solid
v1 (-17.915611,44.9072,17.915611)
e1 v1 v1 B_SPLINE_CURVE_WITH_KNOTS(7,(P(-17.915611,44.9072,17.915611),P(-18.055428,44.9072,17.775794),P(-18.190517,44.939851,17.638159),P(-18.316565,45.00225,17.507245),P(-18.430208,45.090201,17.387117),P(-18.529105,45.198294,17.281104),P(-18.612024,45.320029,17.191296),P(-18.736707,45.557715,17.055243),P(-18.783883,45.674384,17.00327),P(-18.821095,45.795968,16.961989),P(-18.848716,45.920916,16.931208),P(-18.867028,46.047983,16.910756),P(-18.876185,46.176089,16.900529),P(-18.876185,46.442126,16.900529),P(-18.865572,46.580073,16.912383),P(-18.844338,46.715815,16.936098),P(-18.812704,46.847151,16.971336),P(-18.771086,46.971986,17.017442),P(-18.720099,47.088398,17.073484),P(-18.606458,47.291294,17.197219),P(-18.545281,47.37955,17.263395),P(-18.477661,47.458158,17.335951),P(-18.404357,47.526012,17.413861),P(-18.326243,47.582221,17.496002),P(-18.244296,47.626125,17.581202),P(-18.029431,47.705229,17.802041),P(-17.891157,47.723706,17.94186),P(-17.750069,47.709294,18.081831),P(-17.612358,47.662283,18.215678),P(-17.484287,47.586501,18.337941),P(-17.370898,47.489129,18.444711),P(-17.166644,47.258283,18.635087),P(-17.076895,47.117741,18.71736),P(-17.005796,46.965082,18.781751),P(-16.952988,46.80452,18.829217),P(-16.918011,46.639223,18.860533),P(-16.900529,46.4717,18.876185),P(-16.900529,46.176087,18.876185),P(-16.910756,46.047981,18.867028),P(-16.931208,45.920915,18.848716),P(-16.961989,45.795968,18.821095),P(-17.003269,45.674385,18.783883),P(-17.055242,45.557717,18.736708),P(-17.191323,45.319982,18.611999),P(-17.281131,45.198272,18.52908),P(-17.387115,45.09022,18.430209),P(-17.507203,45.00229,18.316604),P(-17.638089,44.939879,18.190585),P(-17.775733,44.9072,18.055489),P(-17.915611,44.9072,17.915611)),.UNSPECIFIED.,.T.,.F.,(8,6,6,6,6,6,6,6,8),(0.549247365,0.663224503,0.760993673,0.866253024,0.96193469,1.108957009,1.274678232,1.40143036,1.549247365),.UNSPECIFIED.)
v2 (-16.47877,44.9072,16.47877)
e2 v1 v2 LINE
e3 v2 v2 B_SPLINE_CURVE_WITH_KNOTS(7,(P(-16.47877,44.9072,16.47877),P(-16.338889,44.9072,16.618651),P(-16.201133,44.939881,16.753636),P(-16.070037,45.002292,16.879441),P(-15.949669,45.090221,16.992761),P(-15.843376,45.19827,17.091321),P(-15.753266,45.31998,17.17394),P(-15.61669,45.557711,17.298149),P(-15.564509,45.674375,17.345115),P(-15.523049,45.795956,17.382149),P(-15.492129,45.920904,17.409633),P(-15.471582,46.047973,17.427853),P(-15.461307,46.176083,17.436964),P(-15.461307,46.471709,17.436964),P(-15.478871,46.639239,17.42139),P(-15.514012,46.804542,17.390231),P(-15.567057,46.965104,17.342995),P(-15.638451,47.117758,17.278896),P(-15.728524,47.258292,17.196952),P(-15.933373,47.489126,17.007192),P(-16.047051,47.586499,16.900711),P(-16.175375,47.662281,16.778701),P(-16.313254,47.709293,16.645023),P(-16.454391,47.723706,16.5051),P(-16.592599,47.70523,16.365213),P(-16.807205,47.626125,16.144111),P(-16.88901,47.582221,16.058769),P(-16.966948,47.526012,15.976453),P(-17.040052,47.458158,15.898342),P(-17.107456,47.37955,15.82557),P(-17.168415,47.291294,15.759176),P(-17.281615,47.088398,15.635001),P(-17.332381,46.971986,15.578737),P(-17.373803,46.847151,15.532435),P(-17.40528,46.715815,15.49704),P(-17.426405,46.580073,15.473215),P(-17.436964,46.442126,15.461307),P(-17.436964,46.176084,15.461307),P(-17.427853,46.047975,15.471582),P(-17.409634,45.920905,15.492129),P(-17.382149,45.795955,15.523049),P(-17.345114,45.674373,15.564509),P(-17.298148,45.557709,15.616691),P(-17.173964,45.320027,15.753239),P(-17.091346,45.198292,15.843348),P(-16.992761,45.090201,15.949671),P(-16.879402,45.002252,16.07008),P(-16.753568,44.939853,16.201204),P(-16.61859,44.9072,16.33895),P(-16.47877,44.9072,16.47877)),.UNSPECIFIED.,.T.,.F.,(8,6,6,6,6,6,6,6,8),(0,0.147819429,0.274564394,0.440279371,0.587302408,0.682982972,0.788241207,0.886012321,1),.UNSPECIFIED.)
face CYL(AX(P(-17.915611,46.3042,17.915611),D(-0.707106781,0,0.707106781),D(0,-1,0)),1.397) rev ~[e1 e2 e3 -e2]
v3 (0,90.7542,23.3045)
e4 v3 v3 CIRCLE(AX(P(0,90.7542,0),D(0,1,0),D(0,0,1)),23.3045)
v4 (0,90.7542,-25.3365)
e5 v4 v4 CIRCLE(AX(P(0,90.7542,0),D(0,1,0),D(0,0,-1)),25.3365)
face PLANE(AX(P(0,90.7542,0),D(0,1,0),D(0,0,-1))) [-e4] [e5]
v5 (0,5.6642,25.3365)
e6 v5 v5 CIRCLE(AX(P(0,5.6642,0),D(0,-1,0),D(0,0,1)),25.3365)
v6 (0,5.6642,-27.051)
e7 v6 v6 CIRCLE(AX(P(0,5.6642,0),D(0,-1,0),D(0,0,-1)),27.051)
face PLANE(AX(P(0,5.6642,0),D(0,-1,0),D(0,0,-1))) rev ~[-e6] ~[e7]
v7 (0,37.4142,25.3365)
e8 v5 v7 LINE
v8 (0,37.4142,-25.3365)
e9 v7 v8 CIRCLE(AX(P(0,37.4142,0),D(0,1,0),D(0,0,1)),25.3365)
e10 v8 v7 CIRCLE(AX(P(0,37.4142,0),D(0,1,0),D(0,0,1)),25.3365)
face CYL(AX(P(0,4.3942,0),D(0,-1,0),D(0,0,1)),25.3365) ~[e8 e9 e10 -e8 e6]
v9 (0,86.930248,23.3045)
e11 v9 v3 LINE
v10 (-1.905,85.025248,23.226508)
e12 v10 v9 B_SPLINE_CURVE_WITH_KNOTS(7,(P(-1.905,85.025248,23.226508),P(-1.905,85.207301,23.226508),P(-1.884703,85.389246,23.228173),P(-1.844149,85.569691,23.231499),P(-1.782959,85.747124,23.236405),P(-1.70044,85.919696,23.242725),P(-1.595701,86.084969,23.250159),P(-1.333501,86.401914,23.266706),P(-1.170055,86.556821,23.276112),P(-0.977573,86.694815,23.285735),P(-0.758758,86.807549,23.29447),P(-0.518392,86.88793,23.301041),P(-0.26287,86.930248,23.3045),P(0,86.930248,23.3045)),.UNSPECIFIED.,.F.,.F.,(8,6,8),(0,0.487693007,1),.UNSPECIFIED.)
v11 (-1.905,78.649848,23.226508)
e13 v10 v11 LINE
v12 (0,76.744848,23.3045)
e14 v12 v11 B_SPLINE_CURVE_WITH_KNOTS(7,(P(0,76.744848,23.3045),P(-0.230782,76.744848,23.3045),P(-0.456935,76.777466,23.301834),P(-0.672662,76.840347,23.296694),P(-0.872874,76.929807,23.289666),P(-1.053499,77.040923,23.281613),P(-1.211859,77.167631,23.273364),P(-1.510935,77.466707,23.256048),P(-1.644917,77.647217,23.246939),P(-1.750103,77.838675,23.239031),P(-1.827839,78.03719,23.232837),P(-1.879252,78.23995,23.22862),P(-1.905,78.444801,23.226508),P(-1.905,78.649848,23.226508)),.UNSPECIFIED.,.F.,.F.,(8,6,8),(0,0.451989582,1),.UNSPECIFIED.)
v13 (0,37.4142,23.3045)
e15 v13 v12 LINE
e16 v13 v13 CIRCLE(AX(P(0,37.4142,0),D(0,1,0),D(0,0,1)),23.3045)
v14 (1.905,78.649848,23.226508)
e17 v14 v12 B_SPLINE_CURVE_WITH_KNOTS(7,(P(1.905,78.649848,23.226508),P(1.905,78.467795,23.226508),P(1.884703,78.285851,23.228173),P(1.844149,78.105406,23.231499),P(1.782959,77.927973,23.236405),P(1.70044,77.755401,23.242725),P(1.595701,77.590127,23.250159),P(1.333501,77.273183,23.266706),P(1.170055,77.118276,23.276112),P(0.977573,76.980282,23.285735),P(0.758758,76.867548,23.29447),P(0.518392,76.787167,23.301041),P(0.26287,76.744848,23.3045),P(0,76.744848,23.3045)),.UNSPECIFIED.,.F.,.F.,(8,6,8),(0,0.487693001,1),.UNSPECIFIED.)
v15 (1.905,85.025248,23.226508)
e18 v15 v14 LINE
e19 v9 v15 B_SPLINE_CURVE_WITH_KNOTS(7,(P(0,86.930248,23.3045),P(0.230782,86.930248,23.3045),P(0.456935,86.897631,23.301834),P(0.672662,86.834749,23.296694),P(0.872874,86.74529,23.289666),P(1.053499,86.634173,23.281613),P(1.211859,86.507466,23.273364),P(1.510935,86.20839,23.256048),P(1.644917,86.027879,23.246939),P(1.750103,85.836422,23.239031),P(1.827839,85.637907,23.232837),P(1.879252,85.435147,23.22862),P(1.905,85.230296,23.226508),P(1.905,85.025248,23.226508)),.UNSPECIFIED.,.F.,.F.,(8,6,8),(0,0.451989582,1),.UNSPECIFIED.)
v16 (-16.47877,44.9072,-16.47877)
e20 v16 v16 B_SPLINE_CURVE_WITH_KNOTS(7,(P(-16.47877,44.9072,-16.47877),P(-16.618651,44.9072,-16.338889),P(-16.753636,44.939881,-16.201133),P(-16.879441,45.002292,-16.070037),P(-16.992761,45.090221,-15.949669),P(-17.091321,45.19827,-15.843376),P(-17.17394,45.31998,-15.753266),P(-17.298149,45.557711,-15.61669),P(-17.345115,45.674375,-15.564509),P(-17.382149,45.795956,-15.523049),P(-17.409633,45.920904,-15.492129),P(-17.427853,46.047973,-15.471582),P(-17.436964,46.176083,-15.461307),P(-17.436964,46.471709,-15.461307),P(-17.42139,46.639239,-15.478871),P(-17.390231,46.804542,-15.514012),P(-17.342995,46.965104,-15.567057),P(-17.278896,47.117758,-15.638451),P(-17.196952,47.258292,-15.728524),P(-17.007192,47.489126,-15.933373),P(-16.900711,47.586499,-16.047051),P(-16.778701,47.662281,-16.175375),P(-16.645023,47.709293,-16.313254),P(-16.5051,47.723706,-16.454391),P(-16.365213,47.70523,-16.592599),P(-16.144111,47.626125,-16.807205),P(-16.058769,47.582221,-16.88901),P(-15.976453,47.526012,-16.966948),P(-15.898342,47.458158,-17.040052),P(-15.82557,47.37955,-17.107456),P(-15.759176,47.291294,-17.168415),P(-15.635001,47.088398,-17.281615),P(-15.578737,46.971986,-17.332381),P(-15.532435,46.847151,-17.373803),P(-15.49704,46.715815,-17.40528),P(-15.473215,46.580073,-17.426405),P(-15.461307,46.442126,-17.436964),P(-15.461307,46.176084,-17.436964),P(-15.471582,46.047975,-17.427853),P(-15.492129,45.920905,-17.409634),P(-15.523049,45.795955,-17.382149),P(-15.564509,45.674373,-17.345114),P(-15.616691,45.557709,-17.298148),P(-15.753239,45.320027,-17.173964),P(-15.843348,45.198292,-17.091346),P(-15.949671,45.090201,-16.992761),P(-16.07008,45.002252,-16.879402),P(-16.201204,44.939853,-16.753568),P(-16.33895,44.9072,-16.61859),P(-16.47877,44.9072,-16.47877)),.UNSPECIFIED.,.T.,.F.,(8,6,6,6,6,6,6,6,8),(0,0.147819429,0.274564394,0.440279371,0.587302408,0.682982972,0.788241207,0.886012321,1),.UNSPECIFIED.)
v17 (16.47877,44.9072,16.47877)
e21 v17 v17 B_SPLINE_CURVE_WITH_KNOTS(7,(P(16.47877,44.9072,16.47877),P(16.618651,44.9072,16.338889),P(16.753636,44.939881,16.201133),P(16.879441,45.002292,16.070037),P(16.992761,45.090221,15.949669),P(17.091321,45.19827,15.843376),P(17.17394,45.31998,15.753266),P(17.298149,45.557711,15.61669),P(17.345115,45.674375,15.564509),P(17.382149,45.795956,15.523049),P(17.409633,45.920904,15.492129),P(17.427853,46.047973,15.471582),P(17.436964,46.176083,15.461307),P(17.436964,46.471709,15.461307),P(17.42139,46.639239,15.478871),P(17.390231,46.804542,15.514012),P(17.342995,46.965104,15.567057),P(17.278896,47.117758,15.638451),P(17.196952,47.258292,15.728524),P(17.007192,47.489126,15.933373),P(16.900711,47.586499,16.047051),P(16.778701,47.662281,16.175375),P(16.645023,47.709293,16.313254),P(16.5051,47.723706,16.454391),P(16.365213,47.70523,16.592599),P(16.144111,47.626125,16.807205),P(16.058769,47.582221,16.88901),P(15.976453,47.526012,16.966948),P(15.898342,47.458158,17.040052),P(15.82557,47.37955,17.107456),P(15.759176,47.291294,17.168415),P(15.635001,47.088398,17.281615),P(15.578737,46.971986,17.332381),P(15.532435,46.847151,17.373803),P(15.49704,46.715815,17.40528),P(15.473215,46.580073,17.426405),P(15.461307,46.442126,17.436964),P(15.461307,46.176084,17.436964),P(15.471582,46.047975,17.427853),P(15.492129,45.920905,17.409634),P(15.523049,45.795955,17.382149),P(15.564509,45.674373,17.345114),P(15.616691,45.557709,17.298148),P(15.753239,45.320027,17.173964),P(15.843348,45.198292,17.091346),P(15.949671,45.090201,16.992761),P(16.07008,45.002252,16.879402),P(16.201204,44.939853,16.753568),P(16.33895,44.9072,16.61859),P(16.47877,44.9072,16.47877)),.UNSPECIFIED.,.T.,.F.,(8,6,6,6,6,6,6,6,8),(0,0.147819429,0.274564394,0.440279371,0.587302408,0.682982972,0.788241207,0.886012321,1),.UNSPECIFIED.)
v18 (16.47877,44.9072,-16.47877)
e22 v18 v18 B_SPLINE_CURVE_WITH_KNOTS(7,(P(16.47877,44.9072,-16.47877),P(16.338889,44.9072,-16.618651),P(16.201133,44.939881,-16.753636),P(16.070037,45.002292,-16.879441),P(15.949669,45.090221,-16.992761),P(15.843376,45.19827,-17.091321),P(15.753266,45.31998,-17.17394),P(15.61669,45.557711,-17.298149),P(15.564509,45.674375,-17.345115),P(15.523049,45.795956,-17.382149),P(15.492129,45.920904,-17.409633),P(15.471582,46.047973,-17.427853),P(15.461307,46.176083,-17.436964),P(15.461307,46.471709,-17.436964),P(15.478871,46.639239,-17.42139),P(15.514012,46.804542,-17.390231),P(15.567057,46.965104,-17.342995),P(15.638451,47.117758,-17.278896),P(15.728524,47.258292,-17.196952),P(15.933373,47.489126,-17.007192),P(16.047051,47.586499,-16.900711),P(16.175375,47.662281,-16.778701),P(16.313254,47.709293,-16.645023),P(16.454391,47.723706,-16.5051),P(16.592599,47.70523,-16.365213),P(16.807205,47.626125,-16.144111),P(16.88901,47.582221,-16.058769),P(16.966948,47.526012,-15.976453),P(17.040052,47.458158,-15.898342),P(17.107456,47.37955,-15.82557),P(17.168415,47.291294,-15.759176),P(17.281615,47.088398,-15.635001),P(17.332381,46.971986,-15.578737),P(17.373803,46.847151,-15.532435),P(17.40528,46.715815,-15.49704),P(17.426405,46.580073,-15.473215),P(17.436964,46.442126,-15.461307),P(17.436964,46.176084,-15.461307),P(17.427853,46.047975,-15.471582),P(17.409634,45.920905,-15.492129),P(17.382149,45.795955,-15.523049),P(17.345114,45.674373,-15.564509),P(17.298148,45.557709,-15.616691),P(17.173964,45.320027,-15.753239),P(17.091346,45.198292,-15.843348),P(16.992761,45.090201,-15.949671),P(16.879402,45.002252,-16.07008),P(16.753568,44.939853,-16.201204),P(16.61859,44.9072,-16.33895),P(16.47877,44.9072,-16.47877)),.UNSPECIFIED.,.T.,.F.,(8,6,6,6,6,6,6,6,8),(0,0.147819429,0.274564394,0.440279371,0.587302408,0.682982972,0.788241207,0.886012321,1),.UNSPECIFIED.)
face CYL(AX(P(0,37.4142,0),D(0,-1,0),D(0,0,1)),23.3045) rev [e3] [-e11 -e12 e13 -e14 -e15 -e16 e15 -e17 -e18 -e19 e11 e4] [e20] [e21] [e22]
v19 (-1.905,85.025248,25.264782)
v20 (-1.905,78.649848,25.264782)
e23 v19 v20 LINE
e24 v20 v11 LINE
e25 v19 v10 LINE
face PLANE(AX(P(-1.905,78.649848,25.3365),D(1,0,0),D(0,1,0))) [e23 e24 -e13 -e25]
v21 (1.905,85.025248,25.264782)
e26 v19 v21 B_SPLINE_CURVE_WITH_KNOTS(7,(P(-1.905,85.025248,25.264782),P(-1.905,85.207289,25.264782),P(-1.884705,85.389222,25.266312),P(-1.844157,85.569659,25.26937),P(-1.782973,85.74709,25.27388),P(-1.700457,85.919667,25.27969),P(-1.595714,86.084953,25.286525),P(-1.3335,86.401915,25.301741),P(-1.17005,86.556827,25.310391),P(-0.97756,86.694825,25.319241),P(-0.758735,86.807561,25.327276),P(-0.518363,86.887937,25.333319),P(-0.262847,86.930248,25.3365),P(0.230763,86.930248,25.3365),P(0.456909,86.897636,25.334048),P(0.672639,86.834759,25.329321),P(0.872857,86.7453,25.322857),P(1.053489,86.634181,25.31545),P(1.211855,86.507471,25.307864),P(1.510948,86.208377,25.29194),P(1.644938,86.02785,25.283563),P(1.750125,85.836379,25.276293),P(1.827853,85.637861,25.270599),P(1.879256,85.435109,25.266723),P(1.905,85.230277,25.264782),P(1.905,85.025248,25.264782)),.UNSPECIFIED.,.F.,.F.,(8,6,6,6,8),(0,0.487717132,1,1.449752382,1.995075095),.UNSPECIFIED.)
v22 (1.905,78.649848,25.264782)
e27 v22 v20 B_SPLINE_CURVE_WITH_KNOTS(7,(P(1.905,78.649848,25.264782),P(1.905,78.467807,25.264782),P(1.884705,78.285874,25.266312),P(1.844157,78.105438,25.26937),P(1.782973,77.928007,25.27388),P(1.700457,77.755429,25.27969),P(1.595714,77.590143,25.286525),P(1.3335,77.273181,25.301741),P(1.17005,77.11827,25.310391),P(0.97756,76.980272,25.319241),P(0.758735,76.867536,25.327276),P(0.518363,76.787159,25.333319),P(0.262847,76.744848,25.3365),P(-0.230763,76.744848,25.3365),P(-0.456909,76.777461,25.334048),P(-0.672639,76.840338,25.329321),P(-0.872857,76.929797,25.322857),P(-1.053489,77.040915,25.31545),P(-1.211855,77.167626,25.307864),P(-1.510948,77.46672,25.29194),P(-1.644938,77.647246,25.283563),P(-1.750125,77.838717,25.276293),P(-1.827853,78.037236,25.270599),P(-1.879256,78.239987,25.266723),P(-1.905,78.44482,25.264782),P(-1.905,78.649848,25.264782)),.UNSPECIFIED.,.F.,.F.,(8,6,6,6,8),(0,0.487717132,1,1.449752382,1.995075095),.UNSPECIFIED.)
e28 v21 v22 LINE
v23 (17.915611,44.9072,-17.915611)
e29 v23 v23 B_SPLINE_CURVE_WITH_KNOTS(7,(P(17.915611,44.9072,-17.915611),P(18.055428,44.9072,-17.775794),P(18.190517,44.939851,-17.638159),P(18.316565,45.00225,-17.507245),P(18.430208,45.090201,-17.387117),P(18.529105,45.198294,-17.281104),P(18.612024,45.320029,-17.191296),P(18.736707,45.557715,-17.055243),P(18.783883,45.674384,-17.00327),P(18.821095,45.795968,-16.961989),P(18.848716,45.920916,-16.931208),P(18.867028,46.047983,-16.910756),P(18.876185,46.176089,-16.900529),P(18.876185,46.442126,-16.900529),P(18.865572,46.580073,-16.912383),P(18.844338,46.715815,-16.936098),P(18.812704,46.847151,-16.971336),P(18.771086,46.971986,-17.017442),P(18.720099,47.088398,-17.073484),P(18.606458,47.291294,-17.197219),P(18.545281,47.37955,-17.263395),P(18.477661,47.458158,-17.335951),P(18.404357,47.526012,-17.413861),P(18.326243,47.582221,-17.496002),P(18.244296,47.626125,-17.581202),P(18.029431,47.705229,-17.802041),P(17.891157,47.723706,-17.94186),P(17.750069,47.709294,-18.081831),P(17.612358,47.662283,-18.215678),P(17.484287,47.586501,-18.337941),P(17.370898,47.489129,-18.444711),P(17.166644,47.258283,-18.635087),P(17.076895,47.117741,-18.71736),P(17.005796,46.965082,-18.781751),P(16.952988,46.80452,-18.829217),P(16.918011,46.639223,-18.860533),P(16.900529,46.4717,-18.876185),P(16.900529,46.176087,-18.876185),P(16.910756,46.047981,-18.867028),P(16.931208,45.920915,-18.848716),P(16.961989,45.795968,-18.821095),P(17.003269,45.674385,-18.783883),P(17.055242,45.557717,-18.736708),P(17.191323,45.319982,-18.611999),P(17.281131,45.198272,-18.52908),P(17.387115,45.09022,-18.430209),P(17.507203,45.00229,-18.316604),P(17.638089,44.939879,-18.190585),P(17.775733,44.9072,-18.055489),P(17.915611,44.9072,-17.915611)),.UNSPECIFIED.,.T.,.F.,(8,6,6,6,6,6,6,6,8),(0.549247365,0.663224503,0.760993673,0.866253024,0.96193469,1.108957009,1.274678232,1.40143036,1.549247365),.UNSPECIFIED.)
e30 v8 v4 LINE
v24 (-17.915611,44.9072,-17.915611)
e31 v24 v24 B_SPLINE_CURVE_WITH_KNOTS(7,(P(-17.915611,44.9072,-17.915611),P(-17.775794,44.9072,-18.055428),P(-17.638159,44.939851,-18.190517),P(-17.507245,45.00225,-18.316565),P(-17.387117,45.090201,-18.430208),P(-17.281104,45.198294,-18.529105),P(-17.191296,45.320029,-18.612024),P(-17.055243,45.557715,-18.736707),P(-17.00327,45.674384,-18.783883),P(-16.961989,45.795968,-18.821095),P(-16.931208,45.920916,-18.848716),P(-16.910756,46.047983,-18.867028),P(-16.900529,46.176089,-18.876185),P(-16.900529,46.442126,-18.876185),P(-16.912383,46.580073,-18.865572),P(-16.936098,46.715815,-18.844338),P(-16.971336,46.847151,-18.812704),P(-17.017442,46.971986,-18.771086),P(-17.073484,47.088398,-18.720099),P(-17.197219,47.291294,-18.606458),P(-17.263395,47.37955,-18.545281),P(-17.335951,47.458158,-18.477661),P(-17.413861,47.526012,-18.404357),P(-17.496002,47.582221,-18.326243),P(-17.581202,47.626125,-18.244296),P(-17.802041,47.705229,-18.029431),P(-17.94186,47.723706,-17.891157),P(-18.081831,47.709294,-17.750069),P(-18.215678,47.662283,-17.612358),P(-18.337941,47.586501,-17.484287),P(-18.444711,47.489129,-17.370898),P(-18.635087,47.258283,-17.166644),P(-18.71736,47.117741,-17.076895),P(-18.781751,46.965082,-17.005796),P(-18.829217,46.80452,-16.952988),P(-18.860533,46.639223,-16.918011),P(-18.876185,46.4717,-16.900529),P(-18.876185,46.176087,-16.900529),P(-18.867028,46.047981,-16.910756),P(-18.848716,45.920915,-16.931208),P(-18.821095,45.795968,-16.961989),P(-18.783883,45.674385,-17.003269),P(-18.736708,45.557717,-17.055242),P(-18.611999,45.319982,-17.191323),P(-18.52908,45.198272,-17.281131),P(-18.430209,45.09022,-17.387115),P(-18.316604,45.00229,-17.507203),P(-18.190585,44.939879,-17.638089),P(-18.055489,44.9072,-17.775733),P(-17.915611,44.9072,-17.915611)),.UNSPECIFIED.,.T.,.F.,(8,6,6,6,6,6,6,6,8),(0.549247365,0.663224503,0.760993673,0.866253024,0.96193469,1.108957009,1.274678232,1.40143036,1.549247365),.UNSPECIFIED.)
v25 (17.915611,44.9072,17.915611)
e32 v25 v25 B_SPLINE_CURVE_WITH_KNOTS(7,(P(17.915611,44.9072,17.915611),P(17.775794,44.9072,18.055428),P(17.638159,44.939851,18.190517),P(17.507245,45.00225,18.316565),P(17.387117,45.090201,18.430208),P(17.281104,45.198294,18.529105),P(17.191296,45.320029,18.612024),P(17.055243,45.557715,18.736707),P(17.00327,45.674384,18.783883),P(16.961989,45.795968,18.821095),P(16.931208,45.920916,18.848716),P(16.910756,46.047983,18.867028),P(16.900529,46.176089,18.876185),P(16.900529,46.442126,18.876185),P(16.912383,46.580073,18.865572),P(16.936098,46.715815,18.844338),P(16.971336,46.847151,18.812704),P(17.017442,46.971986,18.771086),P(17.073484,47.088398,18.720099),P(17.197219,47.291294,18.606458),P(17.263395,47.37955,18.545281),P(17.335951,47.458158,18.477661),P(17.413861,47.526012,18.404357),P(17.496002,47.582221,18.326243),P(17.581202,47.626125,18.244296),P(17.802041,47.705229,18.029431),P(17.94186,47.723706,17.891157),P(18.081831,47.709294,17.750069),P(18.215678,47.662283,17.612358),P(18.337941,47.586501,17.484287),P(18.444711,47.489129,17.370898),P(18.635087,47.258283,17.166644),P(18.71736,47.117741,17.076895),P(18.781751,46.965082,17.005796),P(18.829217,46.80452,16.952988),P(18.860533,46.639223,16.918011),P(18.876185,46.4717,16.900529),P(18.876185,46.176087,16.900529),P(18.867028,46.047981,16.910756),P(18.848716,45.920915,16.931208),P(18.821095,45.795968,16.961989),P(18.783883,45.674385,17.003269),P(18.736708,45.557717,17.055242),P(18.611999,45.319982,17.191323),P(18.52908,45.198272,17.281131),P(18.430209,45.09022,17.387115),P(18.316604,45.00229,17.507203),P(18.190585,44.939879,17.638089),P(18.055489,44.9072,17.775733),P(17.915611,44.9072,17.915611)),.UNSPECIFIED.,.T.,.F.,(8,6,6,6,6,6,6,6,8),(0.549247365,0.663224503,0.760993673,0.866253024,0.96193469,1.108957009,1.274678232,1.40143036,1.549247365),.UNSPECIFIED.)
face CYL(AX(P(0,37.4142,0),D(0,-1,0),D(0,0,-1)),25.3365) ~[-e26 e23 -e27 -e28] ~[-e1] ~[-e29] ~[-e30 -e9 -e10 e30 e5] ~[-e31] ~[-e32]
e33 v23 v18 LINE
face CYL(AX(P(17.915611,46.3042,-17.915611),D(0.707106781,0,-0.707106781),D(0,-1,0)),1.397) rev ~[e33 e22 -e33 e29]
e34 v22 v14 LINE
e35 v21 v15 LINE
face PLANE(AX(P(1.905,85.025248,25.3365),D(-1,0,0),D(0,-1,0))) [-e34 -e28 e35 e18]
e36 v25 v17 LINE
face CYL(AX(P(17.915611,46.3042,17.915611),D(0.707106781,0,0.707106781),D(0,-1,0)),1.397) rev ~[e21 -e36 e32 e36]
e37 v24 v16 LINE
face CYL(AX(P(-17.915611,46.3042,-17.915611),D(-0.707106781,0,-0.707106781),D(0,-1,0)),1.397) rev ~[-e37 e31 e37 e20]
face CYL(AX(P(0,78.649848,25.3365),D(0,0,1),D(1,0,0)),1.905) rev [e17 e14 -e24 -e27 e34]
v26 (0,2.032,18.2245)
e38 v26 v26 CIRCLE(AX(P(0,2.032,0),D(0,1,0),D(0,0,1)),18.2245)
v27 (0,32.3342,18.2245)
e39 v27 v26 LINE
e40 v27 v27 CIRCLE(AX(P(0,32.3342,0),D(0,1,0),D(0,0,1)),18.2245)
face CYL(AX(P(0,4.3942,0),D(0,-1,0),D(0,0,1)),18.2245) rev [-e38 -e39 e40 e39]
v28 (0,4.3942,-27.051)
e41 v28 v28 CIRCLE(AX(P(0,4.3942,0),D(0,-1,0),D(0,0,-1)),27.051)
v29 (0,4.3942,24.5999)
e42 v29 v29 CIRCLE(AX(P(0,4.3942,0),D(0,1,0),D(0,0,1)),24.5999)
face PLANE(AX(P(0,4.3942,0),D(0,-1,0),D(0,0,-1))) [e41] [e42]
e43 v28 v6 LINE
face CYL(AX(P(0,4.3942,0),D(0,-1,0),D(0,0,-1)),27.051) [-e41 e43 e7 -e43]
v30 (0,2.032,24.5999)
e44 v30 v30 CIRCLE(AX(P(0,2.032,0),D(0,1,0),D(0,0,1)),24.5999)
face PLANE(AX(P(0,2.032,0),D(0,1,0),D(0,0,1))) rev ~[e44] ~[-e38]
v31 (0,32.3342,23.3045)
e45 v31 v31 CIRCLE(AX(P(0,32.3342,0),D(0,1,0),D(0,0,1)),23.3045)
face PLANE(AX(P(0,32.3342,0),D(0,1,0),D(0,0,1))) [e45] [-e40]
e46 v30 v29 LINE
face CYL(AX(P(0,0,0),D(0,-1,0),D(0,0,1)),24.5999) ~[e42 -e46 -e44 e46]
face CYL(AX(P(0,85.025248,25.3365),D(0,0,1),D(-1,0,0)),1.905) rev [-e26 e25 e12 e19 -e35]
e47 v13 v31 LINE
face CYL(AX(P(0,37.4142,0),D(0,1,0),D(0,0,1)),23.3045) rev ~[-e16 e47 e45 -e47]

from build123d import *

# Parameters (mm, degrees)
SKETCH1_R                       = 24.5999
SKETCH1_R_2                     = 18.2245
BOSS_EXTRUDE1_DEPTH             = 4.3942
SKETCH2_R                       = 25.3365
SKETCH2_R_2                     = 18.2245
BOSS_EXTRUDE2_DEPTH             = 33.02
SKETCH15_R                      = 27.051
SKETCH15_R_2                    = 25.3365
BOSS_EXTRUDE3_DEPTH             = 1.27
SKETCH18_R                      = 25.3365
SKETCH18_R_2                    = 23.3045
BOSS_EXTRUDE5_DEPTH             = 53.34
CUT_EXTRUDE2_DEPTH              = 10.16
F_35_0_11_DIAMETER_HOLE1_REACH  = 112.817
F_35_0_11_DIAMETER_HOLE1_BORE_R = 1.397
CIRPATTERN1_COUNT               = 4
MOVE_FACE1_BY                   = 2.032
MOVE_FACE2_BY                   = 5.08


with BuildPart() as part:
    # Sketch1 → Boss-Extrude1 (new body)
    with BuildSketch(Plane(origin=(0, 0, 0), x_dir=(1, 0, 0), z_dir=(0, 1, 0))):
        with Locations(Location((0, 0, 0), (0, 0, 270))):
            Circle(SKETCH1_R)
        with Locations(Location((0, 0, 0), (0, 0, 270))):
            Circle(SKETCH1_R_2, mode=Mode.SUBTRACT)
    extrude(amount=BOSS_EXTRUDE1_DEPTH)

    # Sketch2 → Boss-Extrude2 (add)
    with BuildSketch(Plane(origin=(0, 4.3942, 0), x_dir=(1, 0, 0), z_dir=(0, 1, 0))):
        with Locations(Location((0, 0, 0), (0, 0, 270))):
            Circle(SKETCH2_R)
        with Locations(Location((0, 0, 0), (0, 0, 270))):
            Circle(SKETCH2_R_2, mode=Mode.SUBTRACT)
    extrude(amount=BOSS_EXTRUDE2_DEPTH)

    # Sketch15 → Boss-Extrude3 (add)
    with BuildSketch(Plane.XZ.offset(-4.3942)):
        with Locations(Location((0, 0, 0), (0, 0, 270))):
            Circle(SKETCH15_R)
        with Locations(Location((0, 0, 0), (0, 0, 270))):
            Circle(SKETCH15_R_2, mode=Mode.SUBTRACT)
    extrude(amount=-BOSS_EXTRUDE3_DEPTH)

    # Sketch18 → Boss-Extrude5 (add)
    with BuildSketch(Plane(origin=(0, 37.4142, 0), x_dir=(1, 0, 0), z_dir=(0, 1, 0))):
        with Locations(Location((0, 0, 0), (0, 0, 90))):
            Circle(SKETCH18_R)
        with Locations(Location((0, 0, 0), (0, 0, 270))):
            Circle(SKETCH18_R_2, mode=Mode.SUBTRACT)
    extrude(amount=BOSS_EXTRUDE5_DEPTH)

    # Sketch19 → Cut-Extrude2 (cut)
    with BuildSketch(Plane.XY.offset(25.3365)):
        with BuildLine():
            Line((1.905, 85.025248354), (1.905, 78.649848354))
            ThreePointArc((1.905, 78.649848354), (0, 76.744848354), (-1.905, 78.649848354))
            Line((-1.905, 78.649848354), (-1.905, 85.025248354))
            ThreePointArc((-1.905, 85.025248354), (0, 86.930248354), (1.905, 85.025248354))
        make_face()
    extrude(amount=-CUT_EXTRUDE2_DEPTH, mode=Mode.SUBTRACT)

    # #35 (0.11) Diameter Hole1 bore → #35 (0.11) Diameter Hole1 (cut, up to next)
    with BuildSketch(Plane(origin=(-17.915610962, 0, 17.915610962), x_dir=(0, -1, 0), z_dir=(-0.7071067811865488, 0, 0.7071067811865464)), mode=Mode.PRIVATE) as f_35_0_11_diameter_hole1_sk1:
        with Locations((-46.3042, 0)):
            Circle(F_35_0_11_DIAMETER_HOLE1_BORE_R)
    f_35_0_11_diameter_hole1_tool1 = extrude(f_35_0_11_diameter_hole1_sk1.sketch, amount=-F_35_0_11_DIAMETER_HOLE1_REACH, mode=Mode.PRIVATE) & part.part
    f_35_0_11_diameter_hole1 = f_35_0_11_diameter_hole1_tool1.solids().sort_by_distance((-17.915611, 46.3042, 17.915611))[0]
    add(f_35_0_11_diameter_hole1, mode=Mode.SUBTRACT)

    # CirPattern1: #35 (0.11) Diameter Hole1 ×4 about axis
    cirpattern1_axis = Axis((0, 37.4142, 0), (0, -1, 0))
    for i in range(1, CIRPATTERN1_COUNT):
        add(f_35_0_11_diameter_hole1.rotate(cirpattern1_axis, i * 360 / CIRPATTERN1_COUNT), mode=Mode.SUBTRACT)

    # Move Face1: a face moved inward by 2.032
    extrude(part.faces().sort_by_distance((0, 0, 19.67992))[0], amount=MOVE_FACE1_BY, dir=(0, 1, 0), mode=Mode.SUBTRACT)

    # Move Face2: a face moved inward by 5.08
    extrude(part.faces().sort_by_distance((0, 37.4142, 18.6436))[0], amount=MOVE_FACE2_BY, dir=(0, -1, 0), mode=Mode.SUBTRACT)


solid = part.part
